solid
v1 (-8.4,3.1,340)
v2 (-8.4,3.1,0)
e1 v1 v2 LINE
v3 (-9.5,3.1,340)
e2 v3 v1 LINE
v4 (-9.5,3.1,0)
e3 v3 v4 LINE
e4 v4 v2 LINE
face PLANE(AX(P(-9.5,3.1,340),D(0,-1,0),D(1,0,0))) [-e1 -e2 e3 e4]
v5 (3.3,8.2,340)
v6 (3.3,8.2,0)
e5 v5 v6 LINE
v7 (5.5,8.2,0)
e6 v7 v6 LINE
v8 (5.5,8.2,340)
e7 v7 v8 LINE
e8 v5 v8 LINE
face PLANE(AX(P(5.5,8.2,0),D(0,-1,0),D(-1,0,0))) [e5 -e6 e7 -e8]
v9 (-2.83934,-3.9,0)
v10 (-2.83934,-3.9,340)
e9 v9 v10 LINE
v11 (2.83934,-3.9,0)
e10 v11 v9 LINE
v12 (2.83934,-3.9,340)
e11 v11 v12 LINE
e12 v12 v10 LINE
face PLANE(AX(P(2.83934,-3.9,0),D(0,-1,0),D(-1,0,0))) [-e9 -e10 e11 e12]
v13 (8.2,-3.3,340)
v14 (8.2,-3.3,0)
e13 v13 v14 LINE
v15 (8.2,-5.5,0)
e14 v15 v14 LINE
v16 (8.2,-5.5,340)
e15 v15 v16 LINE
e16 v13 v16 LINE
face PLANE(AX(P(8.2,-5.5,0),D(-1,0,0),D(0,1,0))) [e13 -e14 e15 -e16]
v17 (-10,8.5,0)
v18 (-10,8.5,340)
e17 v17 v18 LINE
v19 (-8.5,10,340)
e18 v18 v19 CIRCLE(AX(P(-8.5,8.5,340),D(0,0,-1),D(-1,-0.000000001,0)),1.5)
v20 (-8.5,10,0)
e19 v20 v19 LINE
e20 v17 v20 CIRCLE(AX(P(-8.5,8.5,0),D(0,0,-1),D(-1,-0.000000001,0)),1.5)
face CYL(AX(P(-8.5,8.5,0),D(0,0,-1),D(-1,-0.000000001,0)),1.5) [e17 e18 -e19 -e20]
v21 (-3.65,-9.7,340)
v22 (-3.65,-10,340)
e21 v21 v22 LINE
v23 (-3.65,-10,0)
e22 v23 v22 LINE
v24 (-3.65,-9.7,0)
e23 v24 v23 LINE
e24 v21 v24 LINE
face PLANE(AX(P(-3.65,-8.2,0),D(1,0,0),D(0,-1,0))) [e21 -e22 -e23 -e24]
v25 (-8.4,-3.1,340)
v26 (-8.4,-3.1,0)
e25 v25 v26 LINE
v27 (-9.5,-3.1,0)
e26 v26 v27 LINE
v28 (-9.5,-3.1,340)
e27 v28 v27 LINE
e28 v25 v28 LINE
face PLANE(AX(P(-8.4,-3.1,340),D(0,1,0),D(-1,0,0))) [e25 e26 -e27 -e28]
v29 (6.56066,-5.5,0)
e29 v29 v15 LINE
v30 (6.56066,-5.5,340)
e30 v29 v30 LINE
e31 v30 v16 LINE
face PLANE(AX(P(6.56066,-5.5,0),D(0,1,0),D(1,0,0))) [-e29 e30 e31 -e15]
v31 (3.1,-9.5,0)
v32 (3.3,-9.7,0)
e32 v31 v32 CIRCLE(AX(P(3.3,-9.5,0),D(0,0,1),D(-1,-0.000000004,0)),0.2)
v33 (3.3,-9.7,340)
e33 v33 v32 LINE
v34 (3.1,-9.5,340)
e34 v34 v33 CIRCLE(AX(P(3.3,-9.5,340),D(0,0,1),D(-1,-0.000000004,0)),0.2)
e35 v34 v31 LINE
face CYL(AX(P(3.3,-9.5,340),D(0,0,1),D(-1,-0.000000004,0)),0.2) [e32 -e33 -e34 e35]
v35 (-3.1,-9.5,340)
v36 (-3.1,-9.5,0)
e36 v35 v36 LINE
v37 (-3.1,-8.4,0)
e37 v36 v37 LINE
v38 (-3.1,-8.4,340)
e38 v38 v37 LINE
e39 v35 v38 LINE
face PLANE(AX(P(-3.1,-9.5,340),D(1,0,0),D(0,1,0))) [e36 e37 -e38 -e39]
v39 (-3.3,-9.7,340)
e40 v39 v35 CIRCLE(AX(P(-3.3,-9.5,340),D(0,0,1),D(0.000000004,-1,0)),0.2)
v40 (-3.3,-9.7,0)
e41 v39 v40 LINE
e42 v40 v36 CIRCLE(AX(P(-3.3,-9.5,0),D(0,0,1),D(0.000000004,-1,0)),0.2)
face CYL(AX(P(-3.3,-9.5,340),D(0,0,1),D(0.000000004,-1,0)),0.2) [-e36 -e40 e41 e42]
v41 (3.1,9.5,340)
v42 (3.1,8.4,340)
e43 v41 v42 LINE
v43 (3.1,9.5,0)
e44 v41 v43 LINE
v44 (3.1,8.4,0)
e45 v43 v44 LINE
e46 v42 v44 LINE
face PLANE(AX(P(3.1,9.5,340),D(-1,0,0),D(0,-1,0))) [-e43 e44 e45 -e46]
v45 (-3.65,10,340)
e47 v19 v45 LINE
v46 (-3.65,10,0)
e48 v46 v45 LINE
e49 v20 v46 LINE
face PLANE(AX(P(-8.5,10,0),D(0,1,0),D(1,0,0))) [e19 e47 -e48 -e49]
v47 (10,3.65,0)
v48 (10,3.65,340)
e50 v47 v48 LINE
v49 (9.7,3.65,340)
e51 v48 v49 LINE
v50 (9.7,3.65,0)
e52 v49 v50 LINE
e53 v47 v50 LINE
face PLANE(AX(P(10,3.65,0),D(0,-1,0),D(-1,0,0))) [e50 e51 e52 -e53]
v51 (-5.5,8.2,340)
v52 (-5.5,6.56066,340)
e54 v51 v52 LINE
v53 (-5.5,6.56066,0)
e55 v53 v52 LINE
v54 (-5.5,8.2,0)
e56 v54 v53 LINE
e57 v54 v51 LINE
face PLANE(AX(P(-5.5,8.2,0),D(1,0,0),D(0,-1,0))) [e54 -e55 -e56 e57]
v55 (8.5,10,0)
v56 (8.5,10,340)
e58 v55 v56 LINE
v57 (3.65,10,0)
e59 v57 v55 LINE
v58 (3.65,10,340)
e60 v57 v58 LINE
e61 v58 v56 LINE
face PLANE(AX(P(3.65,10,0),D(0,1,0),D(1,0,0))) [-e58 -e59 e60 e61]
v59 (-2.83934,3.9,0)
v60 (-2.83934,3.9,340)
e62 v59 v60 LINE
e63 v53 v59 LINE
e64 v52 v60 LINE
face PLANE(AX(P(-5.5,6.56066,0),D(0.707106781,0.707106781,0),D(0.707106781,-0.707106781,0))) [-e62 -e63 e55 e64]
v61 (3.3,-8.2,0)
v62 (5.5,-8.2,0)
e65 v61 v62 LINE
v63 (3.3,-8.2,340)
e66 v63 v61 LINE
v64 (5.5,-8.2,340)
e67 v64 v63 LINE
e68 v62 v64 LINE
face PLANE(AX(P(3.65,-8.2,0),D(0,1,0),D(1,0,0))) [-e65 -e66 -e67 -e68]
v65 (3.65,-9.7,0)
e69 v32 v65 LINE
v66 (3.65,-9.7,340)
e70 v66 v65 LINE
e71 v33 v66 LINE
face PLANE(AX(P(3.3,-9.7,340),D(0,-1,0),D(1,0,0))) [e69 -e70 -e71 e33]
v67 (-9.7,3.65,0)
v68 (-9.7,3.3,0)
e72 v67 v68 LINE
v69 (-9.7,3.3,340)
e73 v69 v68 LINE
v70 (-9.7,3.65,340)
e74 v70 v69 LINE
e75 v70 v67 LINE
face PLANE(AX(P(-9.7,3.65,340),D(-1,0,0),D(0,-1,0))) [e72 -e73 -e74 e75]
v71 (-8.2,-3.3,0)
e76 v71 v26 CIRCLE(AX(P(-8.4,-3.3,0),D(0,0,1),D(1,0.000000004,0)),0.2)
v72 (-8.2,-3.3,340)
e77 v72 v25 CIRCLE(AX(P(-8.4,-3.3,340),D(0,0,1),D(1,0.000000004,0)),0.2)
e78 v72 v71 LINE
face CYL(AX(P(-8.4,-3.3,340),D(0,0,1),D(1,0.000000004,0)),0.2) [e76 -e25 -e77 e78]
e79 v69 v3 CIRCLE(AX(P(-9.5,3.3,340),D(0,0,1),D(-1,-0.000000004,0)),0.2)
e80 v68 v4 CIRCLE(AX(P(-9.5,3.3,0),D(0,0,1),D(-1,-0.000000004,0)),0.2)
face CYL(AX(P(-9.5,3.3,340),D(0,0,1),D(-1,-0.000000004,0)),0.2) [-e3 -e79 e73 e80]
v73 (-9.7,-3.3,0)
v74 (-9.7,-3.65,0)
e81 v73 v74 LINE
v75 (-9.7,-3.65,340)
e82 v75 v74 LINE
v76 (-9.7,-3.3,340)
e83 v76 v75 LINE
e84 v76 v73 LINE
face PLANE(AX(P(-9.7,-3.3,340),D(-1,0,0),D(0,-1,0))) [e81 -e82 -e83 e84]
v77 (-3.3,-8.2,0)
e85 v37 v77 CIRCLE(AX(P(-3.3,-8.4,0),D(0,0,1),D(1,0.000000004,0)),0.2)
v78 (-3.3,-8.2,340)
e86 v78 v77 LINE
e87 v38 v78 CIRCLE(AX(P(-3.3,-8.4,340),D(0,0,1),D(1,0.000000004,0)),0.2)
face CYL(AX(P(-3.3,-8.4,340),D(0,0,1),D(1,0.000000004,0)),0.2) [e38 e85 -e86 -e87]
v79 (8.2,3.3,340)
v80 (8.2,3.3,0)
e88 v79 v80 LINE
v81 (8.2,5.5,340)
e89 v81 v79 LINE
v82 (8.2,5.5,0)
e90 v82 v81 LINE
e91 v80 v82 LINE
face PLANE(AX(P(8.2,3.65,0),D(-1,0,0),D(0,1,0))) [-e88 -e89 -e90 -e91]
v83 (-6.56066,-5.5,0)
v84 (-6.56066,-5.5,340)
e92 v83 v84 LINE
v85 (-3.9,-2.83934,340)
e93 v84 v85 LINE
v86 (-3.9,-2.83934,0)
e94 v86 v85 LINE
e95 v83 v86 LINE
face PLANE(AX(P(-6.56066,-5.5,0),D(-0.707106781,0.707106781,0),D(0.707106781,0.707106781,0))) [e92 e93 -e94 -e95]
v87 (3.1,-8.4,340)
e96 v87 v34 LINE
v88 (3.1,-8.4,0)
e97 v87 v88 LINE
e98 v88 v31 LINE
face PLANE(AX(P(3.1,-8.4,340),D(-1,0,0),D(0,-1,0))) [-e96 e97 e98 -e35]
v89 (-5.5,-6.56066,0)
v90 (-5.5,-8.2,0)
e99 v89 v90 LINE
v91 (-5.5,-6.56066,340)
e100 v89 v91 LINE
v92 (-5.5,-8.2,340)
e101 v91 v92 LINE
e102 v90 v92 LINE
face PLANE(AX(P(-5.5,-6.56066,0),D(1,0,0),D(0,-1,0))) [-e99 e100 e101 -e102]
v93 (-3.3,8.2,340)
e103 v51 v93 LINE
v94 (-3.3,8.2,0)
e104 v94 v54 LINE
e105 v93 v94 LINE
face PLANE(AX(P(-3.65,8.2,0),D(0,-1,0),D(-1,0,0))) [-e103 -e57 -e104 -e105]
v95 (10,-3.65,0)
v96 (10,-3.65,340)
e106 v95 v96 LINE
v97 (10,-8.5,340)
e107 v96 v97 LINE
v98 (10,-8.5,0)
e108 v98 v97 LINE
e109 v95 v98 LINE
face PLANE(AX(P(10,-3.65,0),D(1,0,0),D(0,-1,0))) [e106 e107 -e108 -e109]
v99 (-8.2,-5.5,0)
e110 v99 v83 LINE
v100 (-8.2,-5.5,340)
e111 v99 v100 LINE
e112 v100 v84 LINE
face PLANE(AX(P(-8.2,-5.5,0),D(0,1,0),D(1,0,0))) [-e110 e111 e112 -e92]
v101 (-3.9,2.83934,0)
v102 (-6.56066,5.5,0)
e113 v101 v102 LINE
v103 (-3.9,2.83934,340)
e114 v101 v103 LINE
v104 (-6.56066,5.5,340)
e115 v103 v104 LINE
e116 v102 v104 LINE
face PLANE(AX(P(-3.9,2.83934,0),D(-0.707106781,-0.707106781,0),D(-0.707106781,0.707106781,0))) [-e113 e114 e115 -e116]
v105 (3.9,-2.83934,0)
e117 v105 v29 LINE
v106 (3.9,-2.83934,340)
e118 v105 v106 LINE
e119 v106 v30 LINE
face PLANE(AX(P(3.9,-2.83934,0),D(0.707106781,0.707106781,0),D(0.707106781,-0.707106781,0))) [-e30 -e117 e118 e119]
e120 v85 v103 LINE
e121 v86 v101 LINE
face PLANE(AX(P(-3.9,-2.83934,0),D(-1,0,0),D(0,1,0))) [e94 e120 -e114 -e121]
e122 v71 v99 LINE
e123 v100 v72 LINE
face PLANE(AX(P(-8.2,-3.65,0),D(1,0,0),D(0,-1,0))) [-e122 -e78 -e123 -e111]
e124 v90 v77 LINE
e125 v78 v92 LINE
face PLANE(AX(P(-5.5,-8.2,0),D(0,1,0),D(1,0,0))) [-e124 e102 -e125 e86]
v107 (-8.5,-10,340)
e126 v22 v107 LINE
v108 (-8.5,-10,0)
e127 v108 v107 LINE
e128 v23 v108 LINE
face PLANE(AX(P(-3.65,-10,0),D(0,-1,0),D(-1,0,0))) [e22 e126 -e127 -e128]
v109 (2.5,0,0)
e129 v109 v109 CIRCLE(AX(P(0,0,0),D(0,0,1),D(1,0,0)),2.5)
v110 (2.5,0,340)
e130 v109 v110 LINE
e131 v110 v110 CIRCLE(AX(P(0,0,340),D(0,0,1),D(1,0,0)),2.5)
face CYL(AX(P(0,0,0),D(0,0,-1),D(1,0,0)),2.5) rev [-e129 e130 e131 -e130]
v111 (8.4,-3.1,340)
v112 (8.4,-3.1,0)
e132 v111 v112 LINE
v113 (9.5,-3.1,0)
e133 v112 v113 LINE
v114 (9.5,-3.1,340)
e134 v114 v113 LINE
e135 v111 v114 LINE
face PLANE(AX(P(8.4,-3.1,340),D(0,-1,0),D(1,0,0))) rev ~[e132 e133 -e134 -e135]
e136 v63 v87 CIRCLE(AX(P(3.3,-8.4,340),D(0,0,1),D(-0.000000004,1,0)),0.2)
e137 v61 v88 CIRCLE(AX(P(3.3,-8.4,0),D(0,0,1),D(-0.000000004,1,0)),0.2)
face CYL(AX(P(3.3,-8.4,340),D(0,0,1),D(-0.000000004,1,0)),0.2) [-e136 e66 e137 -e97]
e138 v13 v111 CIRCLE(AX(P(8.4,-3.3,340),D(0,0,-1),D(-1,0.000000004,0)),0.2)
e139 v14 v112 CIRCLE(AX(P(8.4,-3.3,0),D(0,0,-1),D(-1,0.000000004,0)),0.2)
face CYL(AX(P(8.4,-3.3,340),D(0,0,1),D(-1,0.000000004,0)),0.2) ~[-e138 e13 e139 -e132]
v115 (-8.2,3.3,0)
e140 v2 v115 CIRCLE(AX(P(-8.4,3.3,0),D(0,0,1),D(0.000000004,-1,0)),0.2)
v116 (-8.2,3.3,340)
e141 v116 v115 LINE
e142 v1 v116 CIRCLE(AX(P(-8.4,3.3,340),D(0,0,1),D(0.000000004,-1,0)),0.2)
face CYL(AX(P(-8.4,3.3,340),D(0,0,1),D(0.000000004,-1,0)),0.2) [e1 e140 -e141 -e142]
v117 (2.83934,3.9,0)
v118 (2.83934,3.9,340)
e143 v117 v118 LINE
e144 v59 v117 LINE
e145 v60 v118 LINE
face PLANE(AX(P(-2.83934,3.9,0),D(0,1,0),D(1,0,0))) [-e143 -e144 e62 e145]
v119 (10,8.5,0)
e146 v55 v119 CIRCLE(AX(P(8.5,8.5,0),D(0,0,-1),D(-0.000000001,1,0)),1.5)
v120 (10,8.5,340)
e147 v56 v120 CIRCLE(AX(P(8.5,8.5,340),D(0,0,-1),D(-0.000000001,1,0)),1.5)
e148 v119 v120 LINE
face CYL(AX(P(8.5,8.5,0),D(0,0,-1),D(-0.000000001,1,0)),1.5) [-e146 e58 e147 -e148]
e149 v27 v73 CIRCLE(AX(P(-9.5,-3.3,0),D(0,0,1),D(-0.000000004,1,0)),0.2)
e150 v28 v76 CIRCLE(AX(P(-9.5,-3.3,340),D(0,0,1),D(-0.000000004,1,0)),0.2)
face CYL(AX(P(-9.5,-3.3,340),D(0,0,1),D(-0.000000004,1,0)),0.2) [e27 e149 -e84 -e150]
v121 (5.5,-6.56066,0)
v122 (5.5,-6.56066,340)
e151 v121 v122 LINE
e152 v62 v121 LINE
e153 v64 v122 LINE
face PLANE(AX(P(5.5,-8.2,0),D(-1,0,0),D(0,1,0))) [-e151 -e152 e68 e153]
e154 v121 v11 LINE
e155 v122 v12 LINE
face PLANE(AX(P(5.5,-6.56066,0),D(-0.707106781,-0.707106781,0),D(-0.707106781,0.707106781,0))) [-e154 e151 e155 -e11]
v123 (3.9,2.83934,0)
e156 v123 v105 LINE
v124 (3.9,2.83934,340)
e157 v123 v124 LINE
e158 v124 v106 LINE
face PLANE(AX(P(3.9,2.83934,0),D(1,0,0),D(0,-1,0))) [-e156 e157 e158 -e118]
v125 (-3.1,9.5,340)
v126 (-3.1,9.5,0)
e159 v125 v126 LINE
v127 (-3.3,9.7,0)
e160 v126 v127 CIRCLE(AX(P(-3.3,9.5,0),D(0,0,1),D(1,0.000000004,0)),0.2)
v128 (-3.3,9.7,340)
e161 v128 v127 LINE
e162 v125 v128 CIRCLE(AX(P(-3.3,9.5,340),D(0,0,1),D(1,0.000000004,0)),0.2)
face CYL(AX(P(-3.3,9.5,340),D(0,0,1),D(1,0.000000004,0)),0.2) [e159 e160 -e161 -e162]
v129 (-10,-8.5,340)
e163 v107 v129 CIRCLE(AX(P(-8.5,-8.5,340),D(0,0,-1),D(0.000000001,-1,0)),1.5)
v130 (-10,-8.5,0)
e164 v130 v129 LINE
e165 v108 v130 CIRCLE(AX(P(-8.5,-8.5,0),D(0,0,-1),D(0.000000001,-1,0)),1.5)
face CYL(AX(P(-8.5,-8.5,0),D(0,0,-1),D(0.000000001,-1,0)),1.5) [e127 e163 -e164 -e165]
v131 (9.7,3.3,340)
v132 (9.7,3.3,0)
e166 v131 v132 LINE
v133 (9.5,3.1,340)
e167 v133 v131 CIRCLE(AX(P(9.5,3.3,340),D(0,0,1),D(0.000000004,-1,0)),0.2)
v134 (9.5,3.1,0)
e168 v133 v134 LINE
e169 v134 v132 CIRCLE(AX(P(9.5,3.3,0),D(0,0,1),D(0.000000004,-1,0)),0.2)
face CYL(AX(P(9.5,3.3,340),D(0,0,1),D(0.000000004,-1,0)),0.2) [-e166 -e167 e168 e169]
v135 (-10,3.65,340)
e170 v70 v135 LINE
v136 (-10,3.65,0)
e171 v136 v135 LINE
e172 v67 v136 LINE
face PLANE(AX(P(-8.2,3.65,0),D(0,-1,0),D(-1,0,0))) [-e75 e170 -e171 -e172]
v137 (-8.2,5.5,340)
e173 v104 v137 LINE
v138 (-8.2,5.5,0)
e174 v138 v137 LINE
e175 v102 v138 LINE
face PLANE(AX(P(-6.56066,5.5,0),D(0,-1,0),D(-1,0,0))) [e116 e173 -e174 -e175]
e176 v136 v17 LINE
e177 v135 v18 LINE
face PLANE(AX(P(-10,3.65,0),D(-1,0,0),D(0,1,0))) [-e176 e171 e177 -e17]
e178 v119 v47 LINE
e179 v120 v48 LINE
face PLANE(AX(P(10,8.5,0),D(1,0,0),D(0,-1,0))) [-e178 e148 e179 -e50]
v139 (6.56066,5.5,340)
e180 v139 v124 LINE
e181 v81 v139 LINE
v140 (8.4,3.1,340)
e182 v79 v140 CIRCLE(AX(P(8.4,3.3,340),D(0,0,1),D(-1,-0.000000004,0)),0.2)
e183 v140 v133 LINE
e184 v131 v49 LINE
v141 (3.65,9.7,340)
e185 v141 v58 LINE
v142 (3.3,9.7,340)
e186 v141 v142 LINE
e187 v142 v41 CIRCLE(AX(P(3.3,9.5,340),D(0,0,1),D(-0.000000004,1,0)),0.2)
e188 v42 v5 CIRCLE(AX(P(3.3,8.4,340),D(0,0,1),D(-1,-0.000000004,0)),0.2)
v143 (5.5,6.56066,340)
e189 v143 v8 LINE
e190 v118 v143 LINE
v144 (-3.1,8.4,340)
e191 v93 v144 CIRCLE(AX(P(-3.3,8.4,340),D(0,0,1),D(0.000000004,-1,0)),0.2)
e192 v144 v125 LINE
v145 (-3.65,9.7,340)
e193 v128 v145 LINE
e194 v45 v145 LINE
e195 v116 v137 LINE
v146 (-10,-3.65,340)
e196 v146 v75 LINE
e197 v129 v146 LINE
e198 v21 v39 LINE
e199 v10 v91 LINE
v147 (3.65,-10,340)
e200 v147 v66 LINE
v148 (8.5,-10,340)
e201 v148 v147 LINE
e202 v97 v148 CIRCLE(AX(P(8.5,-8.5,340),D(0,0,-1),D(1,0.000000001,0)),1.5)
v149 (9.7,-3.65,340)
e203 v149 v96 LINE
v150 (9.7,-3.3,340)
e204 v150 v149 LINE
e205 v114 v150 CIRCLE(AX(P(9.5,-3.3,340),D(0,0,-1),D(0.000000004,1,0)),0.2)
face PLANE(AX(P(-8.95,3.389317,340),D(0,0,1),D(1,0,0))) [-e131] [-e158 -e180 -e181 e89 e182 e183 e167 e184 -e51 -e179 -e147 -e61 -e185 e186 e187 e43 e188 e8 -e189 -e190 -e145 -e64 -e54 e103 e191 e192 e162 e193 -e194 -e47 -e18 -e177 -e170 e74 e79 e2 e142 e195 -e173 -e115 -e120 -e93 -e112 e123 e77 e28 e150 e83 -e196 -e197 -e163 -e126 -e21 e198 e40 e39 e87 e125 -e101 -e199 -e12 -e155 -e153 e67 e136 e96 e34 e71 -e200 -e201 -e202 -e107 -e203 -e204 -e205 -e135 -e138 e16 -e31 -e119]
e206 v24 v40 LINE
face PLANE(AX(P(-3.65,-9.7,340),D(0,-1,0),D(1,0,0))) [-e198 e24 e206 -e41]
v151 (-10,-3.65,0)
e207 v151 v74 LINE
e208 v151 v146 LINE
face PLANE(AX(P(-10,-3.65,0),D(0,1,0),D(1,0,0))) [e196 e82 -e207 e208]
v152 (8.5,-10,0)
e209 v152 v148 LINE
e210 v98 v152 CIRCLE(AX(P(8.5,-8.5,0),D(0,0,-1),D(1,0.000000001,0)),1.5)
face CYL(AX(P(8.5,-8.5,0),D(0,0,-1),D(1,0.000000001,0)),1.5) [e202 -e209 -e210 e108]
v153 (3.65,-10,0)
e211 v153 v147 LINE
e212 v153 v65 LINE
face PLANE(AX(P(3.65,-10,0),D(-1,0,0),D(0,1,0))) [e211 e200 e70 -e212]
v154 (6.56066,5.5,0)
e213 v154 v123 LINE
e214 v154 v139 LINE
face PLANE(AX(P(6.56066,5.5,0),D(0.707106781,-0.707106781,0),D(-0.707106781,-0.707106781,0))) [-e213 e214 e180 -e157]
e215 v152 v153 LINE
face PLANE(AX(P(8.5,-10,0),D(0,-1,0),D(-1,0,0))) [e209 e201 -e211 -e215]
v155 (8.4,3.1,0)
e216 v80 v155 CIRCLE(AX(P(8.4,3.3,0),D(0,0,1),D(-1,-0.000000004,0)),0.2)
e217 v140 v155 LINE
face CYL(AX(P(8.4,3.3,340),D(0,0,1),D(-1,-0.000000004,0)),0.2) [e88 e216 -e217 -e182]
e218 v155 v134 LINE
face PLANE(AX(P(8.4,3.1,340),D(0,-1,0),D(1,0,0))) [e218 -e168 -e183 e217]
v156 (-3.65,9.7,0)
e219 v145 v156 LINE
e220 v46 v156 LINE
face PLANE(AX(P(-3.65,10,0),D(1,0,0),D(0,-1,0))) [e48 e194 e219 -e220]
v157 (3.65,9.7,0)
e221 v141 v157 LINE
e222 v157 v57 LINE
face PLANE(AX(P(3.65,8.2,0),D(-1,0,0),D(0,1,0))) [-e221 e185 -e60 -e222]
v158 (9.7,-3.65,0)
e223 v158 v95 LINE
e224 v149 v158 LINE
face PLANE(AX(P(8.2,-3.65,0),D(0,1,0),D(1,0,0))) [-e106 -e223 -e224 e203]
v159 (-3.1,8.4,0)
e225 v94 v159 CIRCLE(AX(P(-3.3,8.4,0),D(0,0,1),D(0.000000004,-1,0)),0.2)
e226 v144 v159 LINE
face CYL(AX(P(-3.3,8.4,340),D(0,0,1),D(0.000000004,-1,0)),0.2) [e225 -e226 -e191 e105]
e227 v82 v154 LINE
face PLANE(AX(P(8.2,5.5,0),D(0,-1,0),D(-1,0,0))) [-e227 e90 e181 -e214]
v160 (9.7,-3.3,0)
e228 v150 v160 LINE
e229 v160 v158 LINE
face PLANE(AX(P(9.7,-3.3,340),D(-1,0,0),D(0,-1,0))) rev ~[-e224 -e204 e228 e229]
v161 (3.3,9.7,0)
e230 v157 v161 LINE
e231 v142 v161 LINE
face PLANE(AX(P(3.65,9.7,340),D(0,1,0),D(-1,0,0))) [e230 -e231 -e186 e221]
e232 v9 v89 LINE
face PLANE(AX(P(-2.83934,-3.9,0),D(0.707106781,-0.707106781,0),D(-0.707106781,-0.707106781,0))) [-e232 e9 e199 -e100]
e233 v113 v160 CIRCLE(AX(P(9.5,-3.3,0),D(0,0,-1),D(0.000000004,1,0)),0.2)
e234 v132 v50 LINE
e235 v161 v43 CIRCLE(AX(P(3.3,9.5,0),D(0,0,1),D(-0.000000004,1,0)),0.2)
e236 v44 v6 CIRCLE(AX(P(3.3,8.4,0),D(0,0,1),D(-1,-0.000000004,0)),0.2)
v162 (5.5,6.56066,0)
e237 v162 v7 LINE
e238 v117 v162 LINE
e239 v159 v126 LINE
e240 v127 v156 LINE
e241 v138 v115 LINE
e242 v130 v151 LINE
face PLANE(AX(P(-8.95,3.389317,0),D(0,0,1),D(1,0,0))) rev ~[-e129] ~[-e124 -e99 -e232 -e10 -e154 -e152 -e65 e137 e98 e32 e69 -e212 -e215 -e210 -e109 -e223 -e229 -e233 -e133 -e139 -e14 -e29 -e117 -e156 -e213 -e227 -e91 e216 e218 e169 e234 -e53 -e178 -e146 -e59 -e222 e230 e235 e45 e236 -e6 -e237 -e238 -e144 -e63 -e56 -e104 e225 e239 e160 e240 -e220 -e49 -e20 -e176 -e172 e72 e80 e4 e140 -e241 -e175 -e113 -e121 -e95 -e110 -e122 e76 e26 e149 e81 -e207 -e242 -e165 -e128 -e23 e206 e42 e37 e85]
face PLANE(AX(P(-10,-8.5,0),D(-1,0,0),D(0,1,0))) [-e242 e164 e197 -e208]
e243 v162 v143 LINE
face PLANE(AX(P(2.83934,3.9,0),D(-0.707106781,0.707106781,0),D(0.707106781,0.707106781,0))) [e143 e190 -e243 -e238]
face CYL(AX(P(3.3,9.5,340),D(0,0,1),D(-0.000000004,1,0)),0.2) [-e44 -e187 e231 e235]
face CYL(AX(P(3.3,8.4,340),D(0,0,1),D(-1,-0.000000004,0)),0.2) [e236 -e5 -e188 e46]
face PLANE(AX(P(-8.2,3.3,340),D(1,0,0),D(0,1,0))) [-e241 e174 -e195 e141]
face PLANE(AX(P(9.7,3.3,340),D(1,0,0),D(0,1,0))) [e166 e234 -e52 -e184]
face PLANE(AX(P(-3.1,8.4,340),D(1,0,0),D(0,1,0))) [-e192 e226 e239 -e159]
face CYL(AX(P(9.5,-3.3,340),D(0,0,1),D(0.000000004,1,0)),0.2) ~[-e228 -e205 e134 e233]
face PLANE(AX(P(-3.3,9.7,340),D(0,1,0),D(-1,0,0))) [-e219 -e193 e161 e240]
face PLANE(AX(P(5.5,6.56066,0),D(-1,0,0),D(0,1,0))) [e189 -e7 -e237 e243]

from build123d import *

# Parameters (mm, degrees)
SKETCH_1_R      = 2.5
EXTRUDE_2_DEPTH = 340
EXTRUDE_3_DEPTH = 340


with BuildPart() as part:
    # 草图1 → 凸台-拉伸2 (new body)
    with BuildSketch(Plane.XY):
        with BuildLine():
            Line((3.65, 10), (8.5, 10))
            ThreePointArc((8.5, 10), (9.560660172, 9.560660172), (10, 8.5))
            Line((10, 8.5), (10, 3.65))
            Line((10, 3.65), (8.2, 3.65))
            Line((8.2, 3.65), (8.2, 5.5))
            Line((8.2, 5.5), (6.560660172, 5.5))
            Line((6.560660172, 5.5), (3.9, 2.839339828))
            Line((3.9, 2.839339828), (3.9, -2.839339828))
            Line((3.9, -2.839339828), (6.560660172, -5.5))
            Line((6.560660172, -5.5), (8.2, -5.5))
            Line((8.2, -5.5), (8.2, -3.65))
            Line((8.2, -3.65), (10, -3.65))
            Line((10, -3.65), (10, -8.5))
            ThreePointArc((10, -8.5), (9.560660172, -9.560660172), (8.5, -10))
            Line((8.5, -10), (3.65, -10))
            Line((3.65, -10), (3.65, -8.2))
            Line((3.65, -8.2), (5.5, -8.2))
            Line((5.5, -8.2), (5.5, -6.560660172))
            Line((5.5, -6.560660172), (2.839339828, -3.9))
            Line((2.839339828, -3.9), (-2.839339828, -3.9))
            Line((-2.839339828, -3.9), (-5.5, -6.560660172))
            Line((-5.5, -6.560660172), (-5.5, -8.2))
            Line((-5.5, -8.2), (-3.65, -8.2))
            Line((-3.65, -8.2), (-3.65, -10))
            Line((-3.65, -10), (-8.5, -10))
            ThreePointArc((-8.5, -10), (-9.560660172, -9.560660172), (-10, -8.5))
            Line((-10, -8.5), (-10, -3.65))
            Line((-10, -3.65), (-8.2, -3.65))
            Line((-8.2, -3.65), (-8.2, -5.5))
            Line((-8.2, -5.5), (-6.560660172, -5.5))
            Line((-6.560660172, -5.5), (-3.9, -2.839339828))
            Line((-3.9, -2.839339828), (-3.9, 2.839339828))
            Line((-3.9, 2.839339828), (-6.560660172, 5.5))
            Line((-6.560660172, 5.5), (-8.2, 5.5))
            Line((-8.2, 5.5), (-8.2, 3.65))
            Line((-8.2, 3.65), (-10, 3.65))
            Line((-10, 3.65), (-10, 8.5))
            ThreePointArc((-10, 8.5), (-9.560660172, 9.560660172), (-8.5, 10))
            Line((-8.5, 10), (-3.65, 10))
            Line((-3.65, 10), (-3.65, 8.2))
            Line((-3.65, 8.2), (-5.5, 8.2))
            Line((-5.5, 8.2), (-5.5, 6.560660172))
            Line((-5.5, 6.560660172), (-2.839339828, 3.9))
            Line((-2.839339828, 3.9), (2.839339828, 3.9))
            Line((2.839339828, 3.9), (5.5, 6.560660172))
            Line((5.5, 6.560660172), (5.5, 8.2))
            Line((5.5, 8.2), (3.65, 8.2))
            Line((3.65, 8.2), (3.65, 10))
        make_face()
        Circle(SKETCH_1_R, mode=Mode.SUBTRACT)
    extrude(amount=EXTRUDE_2_DEPTH)

    # 草图3 → 凸台-拉伸3 (add)
    with BuildSketch(Plane.XY.offset(340)):
        with BuildLine():
            Line((-8.2, 3.65), (-9.7, 3.65))
            Line((-9.7, 3.65), (-9.7, 3.3))
            ThreePointArc((-9.7, 3.3), (-9.641421356, 3.158578644), (-9.5, 3.1))
            Line((-9.5, 3.1), (-8.4, 3.1))
            ThreePointArc((-8.4, 3.1), (-8.258578644, 3.158578644), (-8.2, 3.3))
            Line((-8.2, 3.3), (-8.2, 3.65))
        make_face()
        with BuildLine():
            Line((-3.65, 9.7), (-3.65, 8.2))
            Line((-3.65, 8.2), (-3.3, 8.2))
            ThreePointArc((-3.3, 8.2), (-3.158578644, 8.258578644), (-3.1, 8.4))
            Line((-3.1, 8.4), (-3.1, 9.5))
            ThreePointArc((-3.1, 9.5), (-3.158578644, 9.641421356), (-3.3, 9.7))
            Line((-3.3, 9.7), (-3.65, 9.7))
        make_face()
        with BuildLine():
            Line((3.65, 8.2), (3.65, 9.7))
            Line((3.65, 9.7), (3.3, 9.7))
            ThreePointArc((3.3, 9.7), (3.158578644, 9.641421356), (3.1, 9.5))
            Line((3.1, 9.5), (3.1, 8.4))
            ThreePointArc((3.1, 8.4), (3.158578644, 8.258578644), (3.3, 8.2))
            Line((3.3, 8.2), (3.65, 8.2))
        make_face()
        with BuildLine():
            Line((9.7, 3.65), (8.2, 3.65))
            Line((8.2, 3.65), (8.2, 3.3))
            ThreePointArc((8.2, 3.3), (8.258578644, 3.158578644), (8.4, 3.1))
            Line((8.4, 3.1), (9.5, 3.1))
            ThreePointArc((9.5, 3.1), (9.641421356, 3.158578644), (9.7, 3.3))
            Line((9.7, 3.3), (9.7, 3.65))
        make_face()
        with BuildLine():
            Line((3.65, -9.7), (3.65, -8.2))
            Line((3.65, -8.2), (3.3, -8.2))
            ThreePointArc((3.3, -8.2), (3.158578644, -8.258578644), (3.1, -8.4))
            Line((3.1, -8.4), (3.1, -9.5))
            ThreePointArc((3.1, -9.5), (3.158578644, -9.641421356), (3.3, -9.7))
            Line((3.3, -9.7), (3.65, -9.7))
        make_face()
        with BuildLine():
            Line((-3.65, -8.2), (-3.65, -9.7))
            Line((-3.65, -9.7), (-3.3, -9.7))
            ThreePointArc((-3.3, -9.7), (-3.158578644, -9.641421356), (-3.1, -9.5))
            Line((-3.1, -9.5), (-3.1, -8.4))
            ThreePointArc((-3.1, -8.4), (-3.158578644, -8.258578644), (-3.3, -8.2))
            Line((-3.3, -8.2), (-3.65, -8.2))
        make_face()
        with BuildLine():
            Line((8.2, -3.65), (8.2, -3.3))
            ThreePointArc((8.2, -3.3), (8.258578644, -3.158578644), (8.4, -3.1))
            Line((8.4, -3.1), (9.5, -3.1))
            ThreePointArc((9.5, -3.1), (9.641421356, -3.158578644), (9.7, -3.3))
            Line((9.7, -3.3), (9.7, -3.65))
            Line((9.7, -3.65), (8.2, -3.65))
        make_face()
        with BuildLine():
            Line((-8.2, -3.65), (-8.2, -3.3))
            ThreePointArc((-8.2, -3.3), (-8.258578644, -3.158578644), (-8.4, -3.1))
            Line((-8.4, -3.1), (-9.5, -3.1))
            ThreePointArc((-9.5, -3.1), (-9.641421356, -3.158578644), (-9.7, -3.3))
            Line((-9.7, -3.3), (-9.7, -3.65))
            Line((-9.7, -3.65), (-8.2, -3.65))
        make_face()
    extrude(amount=-EXTRUDE_3_DEPTH)


solid = part.part
